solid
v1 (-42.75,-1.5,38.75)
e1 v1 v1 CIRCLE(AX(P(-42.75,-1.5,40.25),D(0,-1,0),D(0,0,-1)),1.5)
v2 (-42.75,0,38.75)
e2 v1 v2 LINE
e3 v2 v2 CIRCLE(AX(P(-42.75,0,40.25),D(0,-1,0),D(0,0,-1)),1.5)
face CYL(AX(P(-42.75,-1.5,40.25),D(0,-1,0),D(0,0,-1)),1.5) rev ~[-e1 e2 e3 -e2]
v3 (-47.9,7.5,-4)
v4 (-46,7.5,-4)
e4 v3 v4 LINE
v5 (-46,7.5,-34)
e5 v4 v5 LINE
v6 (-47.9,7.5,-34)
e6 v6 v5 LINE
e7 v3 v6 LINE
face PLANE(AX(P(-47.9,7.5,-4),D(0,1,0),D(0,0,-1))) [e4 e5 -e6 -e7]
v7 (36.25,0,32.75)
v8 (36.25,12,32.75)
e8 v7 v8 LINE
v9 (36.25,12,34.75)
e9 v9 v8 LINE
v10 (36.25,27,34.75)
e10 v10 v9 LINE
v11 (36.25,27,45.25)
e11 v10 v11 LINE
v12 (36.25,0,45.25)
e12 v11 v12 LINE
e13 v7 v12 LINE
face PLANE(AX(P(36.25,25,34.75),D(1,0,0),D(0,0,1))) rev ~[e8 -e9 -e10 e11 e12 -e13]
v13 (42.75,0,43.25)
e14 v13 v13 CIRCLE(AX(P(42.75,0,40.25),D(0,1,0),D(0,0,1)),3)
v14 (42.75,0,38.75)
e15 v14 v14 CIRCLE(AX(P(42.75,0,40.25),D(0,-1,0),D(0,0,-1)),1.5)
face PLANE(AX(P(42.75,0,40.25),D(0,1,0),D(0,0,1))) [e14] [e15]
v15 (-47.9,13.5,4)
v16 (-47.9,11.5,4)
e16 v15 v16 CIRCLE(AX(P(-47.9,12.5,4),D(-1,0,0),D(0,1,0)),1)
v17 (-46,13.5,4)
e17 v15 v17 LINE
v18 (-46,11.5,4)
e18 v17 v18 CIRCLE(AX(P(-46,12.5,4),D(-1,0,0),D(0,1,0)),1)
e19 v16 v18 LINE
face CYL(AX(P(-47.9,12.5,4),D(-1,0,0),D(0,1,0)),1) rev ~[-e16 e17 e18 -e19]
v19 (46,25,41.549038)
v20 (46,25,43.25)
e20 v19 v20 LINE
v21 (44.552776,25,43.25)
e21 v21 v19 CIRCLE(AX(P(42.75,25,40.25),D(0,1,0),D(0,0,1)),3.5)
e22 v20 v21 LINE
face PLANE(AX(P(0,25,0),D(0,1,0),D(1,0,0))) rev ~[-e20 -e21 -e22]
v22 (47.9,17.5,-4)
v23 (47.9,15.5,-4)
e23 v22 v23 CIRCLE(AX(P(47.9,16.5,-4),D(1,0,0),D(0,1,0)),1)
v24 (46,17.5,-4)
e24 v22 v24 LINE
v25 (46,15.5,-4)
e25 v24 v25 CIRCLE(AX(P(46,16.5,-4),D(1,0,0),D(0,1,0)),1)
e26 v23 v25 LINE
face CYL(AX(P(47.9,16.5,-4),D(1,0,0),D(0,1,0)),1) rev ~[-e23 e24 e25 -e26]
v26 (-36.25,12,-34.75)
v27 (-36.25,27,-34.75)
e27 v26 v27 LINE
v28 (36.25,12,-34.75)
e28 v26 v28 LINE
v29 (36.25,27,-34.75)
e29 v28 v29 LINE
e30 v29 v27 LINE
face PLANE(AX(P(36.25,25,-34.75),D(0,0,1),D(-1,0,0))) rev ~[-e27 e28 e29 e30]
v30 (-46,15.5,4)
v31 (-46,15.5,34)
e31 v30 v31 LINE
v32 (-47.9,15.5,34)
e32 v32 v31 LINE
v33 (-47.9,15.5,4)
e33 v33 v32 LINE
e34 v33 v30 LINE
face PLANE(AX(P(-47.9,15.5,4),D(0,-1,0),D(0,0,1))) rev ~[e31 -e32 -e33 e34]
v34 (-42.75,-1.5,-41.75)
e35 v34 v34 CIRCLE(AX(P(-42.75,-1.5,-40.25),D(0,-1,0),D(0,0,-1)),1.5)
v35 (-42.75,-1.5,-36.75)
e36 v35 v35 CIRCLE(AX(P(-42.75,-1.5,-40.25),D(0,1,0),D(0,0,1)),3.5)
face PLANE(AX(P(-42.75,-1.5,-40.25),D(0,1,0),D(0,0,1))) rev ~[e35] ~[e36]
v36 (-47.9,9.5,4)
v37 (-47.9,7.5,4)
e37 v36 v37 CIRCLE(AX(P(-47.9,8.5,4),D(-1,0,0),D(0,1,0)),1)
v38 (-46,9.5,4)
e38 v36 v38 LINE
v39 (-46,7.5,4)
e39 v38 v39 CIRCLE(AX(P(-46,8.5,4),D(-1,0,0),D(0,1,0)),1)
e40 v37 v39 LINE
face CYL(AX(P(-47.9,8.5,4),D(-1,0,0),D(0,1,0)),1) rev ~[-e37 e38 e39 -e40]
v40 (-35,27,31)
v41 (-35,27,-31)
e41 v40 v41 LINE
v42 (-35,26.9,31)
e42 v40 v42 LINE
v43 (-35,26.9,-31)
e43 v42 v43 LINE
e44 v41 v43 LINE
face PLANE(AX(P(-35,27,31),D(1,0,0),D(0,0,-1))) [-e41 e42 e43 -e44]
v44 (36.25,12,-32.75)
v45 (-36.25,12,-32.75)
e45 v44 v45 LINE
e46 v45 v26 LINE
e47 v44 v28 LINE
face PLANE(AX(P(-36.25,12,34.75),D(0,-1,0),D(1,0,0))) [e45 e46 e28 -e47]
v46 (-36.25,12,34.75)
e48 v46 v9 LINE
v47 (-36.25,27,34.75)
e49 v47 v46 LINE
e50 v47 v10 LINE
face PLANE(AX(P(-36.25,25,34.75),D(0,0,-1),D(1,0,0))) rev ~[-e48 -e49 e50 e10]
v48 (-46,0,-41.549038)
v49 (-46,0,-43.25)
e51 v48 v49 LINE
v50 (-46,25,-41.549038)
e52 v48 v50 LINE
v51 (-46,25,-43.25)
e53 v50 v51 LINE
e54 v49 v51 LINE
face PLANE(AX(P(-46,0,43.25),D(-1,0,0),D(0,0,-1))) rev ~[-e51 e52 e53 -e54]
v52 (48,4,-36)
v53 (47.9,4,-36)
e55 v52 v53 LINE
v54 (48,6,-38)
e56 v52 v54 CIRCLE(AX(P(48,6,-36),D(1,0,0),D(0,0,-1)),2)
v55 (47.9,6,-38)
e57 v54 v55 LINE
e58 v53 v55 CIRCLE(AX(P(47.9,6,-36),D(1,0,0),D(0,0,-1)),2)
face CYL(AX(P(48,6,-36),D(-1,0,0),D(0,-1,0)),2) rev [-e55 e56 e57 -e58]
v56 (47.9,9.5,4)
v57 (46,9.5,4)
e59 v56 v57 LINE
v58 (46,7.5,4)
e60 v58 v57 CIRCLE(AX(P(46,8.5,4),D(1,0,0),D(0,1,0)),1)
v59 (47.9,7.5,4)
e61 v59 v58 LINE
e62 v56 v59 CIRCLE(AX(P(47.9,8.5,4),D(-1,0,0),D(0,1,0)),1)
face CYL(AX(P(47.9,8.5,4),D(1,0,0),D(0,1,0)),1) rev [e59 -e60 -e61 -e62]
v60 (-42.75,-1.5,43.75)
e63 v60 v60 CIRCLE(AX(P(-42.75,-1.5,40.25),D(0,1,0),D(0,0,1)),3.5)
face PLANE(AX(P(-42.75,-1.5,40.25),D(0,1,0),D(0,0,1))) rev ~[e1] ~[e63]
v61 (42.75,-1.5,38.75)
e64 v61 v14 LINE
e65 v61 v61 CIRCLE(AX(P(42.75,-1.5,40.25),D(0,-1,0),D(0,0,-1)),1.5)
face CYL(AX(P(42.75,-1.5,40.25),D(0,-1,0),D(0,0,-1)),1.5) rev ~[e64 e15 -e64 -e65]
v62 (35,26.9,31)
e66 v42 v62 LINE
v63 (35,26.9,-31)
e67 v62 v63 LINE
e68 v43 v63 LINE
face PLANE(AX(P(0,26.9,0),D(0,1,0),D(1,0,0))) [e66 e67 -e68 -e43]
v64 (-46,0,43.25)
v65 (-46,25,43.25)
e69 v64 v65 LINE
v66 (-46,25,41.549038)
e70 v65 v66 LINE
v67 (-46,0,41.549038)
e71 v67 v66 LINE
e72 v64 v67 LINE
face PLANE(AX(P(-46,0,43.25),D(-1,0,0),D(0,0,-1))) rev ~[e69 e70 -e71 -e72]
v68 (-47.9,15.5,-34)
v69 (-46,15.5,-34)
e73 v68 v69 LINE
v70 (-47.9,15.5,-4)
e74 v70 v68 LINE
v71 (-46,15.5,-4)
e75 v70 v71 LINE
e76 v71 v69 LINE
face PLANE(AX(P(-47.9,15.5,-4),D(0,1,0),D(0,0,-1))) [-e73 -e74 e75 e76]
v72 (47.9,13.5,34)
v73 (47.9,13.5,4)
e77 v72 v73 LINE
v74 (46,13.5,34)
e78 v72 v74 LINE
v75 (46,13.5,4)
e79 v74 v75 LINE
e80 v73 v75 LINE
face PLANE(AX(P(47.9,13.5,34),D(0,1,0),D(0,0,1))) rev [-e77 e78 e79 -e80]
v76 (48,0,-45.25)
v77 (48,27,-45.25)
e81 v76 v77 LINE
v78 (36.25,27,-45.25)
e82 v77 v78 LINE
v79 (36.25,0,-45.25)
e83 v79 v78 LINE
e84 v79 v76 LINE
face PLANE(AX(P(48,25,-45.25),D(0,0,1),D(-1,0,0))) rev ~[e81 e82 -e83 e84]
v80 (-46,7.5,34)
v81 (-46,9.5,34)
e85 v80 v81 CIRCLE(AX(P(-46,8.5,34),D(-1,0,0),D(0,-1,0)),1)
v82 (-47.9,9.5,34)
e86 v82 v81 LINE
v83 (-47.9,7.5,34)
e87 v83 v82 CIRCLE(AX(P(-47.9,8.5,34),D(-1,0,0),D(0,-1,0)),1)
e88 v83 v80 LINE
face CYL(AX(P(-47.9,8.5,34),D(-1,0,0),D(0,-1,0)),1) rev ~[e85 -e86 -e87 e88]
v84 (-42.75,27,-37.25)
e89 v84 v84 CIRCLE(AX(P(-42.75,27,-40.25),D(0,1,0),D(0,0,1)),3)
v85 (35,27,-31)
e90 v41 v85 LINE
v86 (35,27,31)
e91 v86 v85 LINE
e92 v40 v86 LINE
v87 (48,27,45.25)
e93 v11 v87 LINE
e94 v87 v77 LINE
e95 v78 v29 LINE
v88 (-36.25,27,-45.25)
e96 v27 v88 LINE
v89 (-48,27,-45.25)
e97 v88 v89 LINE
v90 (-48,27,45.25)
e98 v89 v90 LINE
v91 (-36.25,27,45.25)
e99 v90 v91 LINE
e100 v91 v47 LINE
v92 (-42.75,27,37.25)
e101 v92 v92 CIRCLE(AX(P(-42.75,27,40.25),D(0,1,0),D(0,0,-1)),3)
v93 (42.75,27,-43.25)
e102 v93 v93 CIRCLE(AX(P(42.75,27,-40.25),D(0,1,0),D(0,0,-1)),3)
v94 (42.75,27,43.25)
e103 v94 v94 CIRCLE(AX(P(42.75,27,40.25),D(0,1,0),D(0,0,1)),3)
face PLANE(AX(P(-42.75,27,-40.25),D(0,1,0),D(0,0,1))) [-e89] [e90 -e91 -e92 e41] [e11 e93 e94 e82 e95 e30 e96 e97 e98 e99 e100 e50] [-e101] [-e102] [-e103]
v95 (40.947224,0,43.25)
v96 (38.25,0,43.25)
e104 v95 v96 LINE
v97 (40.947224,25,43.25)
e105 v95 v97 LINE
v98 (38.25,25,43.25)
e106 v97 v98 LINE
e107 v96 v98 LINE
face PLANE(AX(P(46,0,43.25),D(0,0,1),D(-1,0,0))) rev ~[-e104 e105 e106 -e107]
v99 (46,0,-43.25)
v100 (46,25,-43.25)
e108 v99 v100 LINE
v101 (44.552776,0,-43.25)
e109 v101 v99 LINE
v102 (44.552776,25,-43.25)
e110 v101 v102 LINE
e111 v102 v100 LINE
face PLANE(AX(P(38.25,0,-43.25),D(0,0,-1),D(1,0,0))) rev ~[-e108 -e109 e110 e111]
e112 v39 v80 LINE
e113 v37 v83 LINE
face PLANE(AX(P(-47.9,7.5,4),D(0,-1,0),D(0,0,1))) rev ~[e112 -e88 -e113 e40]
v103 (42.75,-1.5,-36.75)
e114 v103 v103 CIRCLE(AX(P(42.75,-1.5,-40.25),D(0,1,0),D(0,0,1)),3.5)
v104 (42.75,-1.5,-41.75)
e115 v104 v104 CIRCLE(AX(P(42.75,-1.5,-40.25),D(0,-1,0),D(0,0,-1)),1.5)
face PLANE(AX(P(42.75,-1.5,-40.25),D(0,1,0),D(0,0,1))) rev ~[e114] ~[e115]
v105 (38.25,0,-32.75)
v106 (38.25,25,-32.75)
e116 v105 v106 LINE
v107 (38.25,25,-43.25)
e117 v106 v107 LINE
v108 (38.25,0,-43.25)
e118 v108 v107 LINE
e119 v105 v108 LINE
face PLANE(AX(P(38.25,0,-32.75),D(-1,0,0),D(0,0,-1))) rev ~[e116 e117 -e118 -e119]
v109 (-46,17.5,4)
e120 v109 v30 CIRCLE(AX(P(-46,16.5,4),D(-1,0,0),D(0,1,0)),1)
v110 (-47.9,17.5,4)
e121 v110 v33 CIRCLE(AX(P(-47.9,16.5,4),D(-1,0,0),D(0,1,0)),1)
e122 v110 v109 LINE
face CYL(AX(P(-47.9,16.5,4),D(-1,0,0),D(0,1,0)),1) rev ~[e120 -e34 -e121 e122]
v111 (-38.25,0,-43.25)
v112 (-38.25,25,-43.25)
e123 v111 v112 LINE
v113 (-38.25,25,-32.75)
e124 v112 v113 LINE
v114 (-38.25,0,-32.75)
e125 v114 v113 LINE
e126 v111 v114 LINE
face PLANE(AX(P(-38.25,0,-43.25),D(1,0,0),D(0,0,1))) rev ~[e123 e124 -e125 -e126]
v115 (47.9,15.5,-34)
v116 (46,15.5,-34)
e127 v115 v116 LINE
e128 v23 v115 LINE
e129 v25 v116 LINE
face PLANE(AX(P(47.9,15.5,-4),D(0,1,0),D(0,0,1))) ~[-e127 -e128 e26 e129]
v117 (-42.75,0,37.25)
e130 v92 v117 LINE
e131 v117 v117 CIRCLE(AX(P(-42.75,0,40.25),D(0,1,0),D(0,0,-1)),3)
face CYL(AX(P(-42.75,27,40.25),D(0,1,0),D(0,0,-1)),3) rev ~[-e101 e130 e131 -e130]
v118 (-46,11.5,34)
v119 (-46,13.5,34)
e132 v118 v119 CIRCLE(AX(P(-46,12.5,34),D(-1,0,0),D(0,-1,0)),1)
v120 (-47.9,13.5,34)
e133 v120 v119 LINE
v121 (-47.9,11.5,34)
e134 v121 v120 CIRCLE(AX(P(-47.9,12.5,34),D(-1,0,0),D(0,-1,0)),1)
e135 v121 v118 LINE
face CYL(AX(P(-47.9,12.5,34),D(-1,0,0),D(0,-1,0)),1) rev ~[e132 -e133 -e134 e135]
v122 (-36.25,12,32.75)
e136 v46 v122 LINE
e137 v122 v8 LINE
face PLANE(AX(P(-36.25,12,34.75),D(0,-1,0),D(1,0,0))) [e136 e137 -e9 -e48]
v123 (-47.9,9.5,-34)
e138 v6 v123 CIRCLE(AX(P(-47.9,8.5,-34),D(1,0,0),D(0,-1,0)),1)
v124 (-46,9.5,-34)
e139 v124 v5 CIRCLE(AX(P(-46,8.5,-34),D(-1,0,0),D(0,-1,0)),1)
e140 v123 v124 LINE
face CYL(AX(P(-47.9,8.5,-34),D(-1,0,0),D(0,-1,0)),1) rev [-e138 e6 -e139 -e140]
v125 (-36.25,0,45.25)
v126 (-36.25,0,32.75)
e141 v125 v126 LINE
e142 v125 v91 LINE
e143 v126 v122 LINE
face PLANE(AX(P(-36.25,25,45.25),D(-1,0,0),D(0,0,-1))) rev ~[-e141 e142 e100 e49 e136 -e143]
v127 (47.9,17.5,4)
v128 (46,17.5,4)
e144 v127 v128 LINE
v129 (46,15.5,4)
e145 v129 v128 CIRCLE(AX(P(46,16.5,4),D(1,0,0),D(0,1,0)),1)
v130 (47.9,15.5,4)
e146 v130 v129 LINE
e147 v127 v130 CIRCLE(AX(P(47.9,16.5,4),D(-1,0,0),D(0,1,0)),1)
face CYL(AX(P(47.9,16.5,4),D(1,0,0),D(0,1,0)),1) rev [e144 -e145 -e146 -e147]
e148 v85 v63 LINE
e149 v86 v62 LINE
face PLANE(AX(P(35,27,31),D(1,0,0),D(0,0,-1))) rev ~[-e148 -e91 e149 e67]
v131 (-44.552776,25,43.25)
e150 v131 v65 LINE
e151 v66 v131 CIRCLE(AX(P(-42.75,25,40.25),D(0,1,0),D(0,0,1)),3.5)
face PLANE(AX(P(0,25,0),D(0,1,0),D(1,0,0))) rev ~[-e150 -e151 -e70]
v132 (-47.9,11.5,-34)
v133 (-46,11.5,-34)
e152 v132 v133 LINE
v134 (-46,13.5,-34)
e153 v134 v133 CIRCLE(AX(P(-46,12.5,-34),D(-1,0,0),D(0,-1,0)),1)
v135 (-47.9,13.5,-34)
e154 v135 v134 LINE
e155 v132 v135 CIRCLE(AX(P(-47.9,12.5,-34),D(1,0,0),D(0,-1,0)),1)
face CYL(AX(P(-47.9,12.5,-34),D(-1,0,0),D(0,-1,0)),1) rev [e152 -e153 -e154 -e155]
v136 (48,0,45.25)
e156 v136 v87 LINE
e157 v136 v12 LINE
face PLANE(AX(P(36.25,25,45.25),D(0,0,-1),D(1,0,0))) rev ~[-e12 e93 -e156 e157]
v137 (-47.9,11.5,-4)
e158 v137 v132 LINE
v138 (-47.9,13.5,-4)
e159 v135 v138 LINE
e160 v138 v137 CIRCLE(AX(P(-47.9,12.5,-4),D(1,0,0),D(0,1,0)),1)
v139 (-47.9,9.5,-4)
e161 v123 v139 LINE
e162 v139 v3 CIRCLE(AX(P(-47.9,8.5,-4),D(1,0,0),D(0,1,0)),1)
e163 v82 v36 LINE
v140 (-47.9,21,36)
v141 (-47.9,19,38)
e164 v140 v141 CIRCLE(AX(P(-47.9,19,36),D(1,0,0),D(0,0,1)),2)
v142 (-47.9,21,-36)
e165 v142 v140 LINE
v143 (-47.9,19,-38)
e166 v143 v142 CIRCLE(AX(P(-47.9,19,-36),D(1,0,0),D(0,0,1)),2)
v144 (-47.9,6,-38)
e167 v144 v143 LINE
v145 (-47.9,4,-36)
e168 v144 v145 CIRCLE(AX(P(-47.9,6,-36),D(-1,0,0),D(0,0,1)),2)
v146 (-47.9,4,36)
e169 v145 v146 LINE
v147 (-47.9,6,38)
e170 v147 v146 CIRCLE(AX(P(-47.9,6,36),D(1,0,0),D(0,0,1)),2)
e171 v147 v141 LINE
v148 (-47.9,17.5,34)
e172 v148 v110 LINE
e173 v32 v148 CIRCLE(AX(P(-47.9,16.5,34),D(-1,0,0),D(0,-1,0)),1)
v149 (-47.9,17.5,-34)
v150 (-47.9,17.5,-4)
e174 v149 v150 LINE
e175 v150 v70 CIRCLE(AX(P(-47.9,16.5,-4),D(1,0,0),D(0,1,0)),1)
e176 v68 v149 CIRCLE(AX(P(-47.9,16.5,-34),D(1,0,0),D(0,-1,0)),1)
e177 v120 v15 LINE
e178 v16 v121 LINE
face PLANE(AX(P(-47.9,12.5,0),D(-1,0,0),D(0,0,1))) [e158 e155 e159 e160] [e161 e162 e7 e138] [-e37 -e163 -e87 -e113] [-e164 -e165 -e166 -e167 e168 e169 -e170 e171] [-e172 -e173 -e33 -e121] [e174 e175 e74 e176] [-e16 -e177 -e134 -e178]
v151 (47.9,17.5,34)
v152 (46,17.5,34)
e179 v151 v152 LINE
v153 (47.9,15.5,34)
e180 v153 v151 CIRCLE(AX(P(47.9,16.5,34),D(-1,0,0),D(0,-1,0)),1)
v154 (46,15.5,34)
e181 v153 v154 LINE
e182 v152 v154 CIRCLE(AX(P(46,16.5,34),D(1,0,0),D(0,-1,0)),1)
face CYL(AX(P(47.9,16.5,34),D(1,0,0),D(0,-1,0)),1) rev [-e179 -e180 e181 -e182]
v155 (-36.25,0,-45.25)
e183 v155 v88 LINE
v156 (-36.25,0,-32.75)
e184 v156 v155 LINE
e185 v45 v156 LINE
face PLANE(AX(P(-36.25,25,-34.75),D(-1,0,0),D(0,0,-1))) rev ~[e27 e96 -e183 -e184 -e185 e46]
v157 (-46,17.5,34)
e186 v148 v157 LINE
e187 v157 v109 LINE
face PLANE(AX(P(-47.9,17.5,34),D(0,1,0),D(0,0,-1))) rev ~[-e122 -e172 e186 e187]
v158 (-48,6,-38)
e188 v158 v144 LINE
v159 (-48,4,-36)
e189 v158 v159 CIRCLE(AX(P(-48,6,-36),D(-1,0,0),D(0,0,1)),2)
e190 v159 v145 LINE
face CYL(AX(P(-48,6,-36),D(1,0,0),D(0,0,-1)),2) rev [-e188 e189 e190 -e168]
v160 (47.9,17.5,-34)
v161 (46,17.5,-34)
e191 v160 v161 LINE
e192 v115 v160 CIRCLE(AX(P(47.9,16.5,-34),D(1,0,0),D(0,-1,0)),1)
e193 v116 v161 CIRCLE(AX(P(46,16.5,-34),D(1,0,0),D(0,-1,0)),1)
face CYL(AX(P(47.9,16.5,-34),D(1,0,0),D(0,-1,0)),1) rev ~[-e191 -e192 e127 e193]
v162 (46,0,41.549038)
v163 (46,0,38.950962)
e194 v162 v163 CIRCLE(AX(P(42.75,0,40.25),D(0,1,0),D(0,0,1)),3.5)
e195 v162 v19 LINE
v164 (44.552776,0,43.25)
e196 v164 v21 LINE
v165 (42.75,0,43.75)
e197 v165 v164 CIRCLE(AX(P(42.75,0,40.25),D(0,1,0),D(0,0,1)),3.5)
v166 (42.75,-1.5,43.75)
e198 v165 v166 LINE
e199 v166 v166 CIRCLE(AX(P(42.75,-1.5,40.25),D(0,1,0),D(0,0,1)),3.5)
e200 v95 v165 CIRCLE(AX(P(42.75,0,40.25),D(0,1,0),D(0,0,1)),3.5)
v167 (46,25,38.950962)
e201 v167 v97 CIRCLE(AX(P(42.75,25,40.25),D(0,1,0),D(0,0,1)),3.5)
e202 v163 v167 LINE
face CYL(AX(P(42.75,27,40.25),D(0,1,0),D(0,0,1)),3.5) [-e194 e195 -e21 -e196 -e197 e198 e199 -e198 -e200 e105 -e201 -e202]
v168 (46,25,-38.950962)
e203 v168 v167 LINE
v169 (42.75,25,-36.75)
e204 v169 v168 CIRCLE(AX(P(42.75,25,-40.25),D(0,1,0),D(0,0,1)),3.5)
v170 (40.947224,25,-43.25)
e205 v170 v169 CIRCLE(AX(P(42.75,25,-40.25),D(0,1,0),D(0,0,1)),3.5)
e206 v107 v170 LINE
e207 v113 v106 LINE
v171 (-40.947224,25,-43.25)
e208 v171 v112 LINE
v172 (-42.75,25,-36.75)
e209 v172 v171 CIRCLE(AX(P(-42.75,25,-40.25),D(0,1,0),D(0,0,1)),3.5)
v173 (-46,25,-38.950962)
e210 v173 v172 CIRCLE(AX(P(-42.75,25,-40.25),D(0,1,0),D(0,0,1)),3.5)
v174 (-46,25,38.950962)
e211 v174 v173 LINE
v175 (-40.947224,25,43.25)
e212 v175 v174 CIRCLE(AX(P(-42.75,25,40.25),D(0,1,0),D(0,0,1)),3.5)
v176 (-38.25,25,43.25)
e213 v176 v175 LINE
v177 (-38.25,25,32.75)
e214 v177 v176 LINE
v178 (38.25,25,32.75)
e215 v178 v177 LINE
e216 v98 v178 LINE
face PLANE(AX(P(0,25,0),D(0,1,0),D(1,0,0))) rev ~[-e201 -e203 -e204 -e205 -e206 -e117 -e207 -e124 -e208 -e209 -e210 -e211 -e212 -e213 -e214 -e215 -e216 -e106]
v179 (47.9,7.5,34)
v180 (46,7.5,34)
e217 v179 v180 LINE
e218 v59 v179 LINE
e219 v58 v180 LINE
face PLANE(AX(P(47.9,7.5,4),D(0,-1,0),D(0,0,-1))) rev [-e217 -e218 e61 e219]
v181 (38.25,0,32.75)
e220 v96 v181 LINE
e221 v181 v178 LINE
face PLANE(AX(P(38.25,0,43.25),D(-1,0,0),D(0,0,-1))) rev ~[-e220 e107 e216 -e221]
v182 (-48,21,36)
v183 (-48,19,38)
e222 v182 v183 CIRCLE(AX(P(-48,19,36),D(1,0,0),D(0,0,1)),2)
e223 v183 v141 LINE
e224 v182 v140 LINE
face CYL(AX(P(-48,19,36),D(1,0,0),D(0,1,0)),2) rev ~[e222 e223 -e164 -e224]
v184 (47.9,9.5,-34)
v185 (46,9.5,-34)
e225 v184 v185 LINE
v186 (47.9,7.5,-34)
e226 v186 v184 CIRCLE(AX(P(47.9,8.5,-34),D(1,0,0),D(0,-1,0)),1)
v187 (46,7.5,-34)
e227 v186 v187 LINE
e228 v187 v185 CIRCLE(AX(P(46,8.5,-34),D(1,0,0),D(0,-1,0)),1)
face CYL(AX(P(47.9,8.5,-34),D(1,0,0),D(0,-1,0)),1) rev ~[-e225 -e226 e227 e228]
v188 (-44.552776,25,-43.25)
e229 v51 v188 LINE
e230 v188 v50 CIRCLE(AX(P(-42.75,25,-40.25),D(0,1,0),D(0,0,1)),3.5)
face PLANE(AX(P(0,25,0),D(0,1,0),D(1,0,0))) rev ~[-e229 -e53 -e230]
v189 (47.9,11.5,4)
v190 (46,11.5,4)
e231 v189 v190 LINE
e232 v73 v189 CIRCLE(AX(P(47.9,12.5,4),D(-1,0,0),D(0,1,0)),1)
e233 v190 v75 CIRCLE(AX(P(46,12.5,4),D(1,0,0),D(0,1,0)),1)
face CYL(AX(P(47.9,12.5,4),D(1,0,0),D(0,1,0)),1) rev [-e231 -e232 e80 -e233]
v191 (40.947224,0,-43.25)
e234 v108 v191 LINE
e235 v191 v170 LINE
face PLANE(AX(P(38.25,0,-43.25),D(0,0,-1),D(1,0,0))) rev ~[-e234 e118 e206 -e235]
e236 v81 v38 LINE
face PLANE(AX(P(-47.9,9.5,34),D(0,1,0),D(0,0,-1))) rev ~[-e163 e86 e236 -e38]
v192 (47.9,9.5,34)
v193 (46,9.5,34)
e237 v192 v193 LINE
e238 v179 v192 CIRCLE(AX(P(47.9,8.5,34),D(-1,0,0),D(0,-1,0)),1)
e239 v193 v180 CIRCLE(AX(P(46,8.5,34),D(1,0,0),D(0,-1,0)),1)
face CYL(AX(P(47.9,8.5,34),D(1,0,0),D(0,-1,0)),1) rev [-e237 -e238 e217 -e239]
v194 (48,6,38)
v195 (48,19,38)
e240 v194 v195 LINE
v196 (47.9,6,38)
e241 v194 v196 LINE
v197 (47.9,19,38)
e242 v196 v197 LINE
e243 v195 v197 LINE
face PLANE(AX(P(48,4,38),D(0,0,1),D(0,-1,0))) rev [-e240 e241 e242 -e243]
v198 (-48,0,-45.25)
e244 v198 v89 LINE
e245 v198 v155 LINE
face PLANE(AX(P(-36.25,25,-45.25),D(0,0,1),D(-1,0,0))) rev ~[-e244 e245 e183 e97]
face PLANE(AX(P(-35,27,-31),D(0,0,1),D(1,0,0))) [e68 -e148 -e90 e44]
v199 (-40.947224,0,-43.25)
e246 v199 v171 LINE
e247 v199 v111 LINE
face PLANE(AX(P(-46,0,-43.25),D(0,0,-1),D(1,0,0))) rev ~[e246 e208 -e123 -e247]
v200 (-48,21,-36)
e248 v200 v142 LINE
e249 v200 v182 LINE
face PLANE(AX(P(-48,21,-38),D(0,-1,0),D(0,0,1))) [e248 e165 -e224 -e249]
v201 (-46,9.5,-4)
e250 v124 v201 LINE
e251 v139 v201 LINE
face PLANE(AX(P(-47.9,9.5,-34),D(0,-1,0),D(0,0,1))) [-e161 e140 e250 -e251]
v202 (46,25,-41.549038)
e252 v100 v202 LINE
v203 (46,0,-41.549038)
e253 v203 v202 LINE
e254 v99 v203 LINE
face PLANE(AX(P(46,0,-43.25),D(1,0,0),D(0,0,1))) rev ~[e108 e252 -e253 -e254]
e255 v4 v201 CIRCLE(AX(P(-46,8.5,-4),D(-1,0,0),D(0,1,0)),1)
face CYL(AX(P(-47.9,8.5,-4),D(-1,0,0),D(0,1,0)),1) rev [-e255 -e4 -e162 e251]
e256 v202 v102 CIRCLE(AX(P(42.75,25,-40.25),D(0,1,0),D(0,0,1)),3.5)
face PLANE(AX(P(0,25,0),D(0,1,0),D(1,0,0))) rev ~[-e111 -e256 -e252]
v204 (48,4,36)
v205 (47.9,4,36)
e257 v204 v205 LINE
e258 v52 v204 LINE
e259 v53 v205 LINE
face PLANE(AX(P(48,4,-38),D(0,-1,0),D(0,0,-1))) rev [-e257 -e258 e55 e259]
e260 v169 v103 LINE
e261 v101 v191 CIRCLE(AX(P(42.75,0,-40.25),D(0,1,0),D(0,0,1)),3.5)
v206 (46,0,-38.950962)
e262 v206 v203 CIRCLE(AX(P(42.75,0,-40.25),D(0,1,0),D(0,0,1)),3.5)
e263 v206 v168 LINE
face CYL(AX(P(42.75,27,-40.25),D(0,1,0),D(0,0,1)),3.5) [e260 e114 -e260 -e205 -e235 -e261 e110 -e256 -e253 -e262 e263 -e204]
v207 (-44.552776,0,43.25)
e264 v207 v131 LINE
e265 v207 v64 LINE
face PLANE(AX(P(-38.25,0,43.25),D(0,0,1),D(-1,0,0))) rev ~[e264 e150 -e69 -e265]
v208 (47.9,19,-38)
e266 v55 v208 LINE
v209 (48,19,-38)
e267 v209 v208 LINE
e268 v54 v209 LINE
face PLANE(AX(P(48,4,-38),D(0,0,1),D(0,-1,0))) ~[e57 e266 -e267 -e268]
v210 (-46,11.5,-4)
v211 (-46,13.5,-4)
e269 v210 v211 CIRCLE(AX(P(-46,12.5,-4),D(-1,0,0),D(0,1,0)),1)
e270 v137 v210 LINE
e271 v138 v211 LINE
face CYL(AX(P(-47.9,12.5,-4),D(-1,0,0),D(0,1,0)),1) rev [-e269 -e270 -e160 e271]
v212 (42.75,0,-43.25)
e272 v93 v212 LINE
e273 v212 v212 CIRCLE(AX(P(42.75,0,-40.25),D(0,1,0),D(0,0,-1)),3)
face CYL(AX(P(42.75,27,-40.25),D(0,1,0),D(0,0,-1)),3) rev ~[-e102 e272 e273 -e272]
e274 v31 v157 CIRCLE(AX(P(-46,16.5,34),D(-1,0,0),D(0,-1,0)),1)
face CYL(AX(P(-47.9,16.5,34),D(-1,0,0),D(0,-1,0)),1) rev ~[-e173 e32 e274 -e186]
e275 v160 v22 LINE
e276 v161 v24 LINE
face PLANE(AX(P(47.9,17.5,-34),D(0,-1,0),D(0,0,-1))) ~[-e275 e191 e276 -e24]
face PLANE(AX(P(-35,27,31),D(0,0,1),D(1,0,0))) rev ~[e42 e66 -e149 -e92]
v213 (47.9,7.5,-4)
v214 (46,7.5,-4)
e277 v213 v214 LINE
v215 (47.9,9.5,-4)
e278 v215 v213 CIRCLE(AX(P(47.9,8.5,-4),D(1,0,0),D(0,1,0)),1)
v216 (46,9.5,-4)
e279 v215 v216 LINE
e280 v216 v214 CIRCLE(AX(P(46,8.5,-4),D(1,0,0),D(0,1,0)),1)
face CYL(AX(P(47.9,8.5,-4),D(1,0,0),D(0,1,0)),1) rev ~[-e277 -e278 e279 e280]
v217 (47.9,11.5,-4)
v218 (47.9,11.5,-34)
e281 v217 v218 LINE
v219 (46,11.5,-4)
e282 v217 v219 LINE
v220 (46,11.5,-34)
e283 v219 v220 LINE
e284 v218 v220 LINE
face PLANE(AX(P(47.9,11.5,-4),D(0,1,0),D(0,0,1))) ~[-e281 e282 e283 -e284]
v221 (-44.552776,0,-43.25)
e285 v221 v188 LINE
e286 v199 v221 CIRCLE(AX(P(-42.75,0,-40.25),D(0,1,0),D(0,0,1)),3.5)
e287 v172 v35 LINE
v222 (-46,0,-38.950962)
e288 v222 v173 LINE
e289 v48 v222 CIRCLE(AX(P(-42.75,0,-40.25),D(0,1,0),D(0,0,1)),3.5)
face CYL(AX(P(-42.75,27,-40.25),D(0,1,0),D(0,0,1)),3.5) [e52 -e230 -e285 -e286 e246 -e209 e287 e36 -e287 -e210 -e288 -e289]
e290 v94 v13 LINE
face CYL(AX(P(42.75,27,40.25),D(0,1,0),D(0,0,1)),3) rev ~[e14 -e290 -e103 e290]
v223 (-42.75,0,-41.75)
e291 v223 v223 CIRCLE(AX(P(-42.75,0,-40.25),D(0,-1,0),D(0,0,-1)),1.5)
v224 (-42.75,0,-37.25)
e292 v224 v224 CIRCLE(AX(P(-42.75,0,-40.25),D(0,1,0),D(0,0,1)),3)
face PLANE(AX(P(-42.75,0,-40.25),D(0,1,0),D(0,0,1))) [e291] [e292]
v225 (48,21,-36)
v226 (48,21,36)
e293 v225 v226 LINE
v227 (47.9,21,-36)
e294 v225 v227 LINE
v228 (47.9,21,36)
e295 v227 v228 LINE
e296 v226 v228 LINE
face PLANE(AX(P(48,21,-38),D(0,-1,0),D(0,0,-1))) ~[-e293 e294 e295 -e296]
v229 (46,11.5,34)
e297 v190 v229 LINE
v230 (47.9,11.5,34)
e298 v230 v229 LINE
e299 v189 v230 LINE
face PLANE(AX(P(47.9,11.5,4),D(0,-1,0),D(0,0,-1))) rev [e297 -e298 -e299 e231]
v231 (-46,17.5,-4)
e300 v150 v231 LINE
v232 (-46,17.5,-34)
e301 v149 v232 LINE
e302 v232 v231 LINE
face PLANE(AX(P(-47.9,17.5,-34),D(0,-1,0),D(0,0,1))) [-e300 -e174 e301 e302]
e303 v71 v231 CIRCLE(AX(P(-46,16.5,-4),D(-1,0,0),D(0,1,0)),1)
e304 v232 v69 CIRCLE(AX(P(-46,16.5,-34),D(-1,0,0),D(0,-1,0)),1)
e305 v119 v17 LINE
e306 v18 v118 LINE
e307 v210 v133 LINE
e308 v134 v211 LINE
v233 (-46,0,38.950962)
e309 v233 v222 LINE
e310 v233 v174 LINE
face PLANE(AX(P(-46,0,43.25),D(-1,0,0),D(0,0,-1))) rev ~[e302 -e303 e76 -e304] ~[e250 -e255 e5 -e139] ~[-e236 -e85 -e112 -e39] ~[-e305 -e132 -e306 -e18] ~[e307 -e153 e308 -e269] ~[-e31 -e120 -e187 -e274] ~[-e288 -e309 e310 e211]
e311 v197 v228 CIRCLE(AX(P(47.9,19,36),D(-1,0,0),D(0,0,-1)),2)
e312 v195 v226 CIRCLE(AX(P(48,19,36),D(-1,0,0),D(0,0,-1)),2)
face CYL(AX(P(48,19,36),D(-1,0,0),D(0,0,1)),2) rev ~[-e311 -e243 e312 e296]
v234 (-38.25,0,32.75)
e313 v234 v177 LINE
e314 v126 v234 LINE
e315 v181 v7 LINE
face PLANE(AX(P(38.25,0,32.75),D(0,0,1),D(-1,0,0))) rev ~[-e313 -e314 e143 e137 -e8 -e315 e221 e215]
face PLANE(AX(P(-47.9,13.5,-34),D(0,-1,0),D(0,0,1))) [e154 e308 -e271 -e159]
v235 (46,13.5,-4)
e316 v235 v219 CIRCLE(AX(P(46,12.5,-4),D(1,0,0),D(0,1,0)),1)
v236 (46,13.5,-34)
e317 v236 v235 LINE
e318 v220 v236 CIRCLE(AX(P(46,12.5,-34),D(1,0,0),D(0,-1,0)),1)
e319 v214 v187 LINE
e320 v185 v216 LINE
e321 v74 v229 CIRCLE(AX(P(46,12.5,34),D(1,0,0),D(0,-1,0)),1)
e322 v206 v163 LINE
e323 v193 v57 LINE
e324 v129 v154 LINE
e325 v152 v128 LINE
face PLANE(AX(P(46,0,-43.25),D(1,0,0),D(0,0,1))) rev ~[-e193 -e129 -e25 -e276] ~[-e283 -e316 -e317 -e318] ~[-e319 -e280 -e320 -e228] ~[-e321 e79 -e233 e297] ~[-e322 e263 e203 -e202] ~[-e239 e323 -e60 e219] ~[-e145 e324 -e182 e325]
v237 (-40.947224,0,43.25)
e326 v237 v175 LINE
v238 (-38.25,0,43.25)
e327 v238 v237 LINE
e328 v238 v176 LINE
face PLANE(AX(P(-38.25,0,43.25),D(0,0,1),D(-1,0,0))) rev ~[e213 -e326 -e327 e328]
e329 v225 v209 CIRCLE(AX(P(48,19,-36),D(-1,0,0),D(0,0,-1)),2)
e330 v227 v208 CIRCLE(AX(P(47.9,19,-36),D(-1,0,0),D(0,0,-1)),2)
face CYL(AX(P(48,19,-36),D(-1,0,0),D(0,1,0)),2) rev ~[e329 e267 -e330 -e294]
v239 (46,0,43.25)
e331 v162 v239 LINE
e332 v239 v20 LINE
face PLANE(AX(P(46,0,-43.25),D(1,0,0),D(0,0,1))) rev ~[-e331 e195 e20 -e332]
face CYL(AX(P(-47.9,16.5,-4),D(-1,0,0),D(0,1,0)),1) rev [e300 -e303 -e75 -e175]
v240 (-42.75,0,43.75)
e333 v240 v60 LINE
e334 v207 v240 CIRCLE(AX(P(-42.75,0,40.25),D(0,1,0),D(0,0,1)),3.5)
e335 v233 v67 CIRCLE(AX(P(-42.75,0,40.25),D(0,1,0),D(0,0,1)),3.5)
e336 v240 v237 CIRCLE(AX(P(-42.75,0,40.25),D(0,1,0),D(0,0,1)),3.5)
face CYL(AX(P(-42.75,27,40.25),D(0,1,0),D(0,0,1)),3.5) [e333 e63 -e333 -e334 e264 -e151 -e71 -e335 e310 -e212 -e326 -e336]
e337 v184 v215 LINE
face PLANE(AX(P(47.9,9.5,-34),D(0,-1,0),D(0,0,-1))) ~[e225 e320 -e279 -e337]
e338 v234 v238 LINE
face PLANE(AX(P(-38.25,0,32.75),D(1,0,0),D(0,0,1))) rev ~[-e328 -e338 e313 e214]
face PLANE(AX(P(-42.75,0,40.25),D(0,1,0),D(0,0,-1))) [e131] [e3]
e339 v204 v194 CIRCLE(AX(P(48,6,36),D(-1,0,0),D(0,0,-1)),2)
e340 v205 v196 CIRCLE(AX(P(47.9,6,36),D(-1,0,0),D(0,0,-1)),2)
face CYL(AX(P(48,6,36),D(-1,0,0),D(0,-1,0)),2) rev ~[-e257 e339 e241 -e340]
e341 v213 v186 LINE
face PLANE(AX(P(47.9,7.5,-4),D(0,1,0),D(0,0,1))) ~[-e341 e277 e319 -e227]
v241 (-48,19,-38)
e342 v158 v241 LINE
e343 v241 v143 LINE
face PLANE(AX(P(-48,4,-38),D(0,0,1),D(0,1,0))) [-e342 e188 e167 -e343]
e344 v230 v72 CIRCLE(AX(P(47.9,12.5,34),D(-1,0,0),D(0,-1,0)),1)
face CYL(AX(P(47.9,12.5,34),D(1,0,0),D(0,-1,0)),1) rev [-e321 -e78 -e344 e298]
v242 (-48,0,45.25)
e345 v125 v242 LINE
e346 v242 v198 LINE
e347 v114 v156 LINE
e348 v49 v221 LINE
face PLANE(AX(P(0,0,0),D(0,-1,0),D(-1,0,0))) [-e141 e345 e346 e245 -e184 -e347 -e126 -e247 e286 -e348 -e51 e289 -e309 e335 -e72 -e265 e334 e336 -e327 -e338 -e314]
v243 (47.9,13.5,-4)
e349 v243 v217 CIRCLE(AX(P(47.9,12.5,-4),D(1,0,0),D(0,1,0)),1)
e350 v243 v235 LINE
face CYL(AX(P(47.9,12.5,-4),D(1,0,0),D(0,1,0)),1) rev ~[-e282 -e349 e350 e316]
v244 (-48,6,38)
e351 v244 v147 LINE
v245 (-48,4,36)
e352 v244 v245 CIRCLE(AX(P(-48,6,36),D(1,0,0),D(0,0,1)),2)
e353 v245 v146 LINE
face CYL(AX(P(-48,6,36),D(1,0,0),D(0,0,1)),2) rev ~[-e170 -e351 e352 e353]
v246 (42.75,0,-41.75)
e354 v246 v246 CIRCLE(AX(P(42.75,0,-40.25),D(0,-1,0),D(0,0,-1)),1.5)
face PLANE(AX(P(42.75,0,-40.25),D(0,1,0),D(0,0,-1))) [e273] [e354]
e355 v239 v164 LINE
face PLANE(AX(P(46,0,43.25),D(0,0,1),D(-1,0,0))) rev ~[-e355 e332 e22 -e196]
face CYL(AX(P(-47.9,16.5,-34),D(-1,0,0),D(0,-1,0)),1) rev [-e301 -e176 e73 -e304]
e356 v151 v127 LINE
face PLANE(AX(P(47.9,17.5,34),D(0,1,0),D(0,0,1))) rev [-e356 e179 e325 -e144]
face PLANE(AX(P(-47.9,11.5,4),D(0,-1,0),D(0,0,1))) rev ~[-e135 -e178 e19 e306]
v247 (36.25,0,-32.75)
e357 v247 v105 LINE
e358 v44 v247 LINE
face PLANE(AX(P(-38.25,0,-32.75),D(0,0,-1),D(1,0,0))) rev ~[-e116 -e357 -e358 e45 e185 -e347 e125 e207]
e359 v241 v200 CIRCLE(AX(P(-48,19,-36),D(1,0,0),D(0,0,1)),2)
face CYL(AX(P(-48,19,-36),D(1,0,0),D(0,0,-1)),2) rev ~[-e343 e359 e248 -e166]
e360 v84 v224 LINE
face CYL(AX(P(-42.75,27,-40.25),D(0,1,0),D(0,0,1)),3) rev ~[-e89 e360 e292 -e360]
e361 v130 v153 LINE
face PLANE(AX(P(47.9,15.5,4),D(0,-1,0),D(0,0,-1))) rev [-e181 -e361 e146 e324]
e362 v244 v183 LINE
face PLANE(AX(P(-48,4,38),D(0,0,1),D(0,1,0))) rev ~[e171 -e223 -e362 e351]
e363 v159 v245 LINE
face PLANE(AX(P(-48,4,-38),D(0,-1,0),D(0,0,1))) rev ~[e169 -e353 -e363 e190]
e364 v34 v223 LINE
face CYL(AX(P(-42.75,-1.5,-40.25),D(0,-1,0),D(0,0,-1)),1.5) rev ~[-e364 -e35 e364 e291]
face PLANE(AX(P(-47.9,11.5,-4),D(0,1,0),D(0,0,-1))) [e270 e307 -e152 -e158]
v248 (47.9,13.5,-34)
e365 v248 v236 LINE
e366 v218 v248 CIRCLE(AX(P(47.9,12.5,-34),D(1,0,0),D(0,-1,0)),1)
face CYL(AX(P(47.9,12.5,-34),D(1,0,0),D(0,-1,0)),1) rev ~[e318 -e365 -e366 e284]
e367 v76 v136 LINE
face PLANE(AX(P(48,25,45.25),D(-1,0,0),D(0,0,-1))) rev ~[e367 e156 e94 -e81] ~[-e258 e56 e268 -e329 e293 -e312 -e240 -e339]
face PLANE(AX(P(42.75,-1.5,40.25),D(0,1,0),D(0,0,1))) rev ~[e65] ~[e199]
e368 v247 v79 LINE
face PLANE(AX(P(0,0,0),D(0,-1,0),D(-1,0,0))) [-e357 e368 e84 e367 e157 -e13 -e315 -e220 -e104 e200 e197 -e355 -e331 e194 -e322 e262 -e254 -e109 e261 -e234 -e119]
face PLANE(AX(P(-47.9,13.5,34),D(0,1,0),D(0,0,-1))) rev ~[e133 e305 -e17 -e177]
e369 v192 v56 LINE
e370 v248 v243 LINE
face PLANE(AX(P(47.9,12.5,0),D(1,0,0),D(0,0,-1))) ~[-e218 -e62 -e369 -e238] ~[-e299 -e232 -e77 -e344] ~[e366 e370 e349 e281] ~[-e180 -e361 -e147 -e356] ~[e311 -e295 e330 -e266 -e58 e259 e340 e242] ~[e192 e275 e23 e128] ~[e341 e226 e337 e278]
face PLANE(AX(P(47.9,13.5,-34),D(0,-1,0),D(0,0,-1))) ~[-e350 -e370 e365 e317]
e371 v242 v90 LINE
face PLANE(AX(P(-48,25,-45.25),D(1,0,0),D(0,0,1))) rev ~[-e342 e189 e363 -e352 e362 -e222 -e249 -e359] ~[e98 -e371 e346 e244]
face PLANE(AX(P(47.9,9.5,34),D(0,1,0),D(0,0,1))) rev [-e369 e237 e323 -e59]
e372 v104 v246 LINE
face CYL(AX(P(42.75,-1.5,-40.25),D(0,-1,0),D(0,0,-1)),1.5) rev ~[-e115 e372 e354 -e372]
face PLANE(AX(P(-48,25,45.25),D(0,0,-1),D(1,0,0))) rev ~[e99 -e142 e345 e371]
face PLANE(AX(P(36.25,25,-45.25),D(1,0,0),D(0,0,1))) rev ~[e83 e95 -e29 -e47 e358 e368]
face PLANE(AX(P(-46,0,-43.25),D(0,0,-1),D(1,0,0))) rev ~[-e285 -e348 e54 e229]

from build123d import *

# Parameters (mm, degrees)
BOSS_EXTRUDE1_DEPTH  = 25
BOSS_EXTRUDE2_DEPTH  = 2
SKETCH3_W            = 72.5
SKETCH3_H            = 18.058244084
CUT_EXTRUDE1_DEPTH   = 90
SKETCH4_R            = 3.5
BOSS_EXTRUDE9_DEPTH  = 28.5
SKETCH5_R            = 1.5
CUT_EXTRUDE2_DEPTH   = 28.5
SKETCH6_R            = 3
CUT_EXTRUDE3_DEPTH   = 27
SKETCH7_W            = 70
SKETCH7_H            = 62
CUT_EXTRUDE4_DEPTH   = 0.1
SKETCH8_W            = 76
SKETCH8_H            = 17
CUT_EXTRUDE5_DEPTH   = 0.1
FILLET1_R            = 2
CUT_EXTRUDE6_DEPTH   = 5
FILLET1_OF_MIRROR1_R = 2


with BuildPart() as part:
    # Sketch1 → Boss-Extrude1 (new body)
    with BuildSketch(Plane(origin=(0, 0, 0), x_dir=(1, 0, 0), z_dir=(0, 1, 0))):
        Polygon((-48, 45.25), (-36.25, 45.25), (-36.25, 34.75), (36.25, 34.75), (36.25, 45.25), (48, 45.25), (48, -45.25), (36.25, -45.25), (36.25, -34.75), (-36.25, -34.75), (-36.25, -45.25), (-48, -45.25), align=None)
        Polygon((-46, 43.25), (-38.25, 43.25), (-38.25, 32.75), (38.25, 32.75), (38.25, 43.25), (46, 43.25), (46, -43.25), (38.25, -43.25), (38.25, -32.75), (-38.25, -32.75), (-38.25, -43.25), (-46, -43.25), align=None, mode=Mode.SUBTRACT)
    extrude(amount=BOSS_EXTRUDE1_DEPTH)

    # Sketch2 → Boss-Extrude2 (add)
    with BuildSketch(Plane(origin=(0, 25, 0), x_dir=(1, 0, 0), z_dir=(0, 1, 0))):
        Polygon((36.25, -45.25), (48, -45.25), (48, 45.25), (36.25, 45.25), (36.25, 34.75), (-36.25, 34.75), (-36.25, 45.25), (-48, 45.25), (-48, -45.25), (-36.25, -45.25), (-36.25, -34.75), (36.25, -34.75), align=None)
    extrude(amount=BOSS_EXTRUDE2_DEPTH)

    # Sketch3 → Cut-Extrude1 (cut)
    with BuildSketch(Plane.XY.offset(34.75)):
        with Locations((0, 2.970877958)):
            Rectangle(SKETCH3_W, SKETCH3_H)
    extrude(amount=-CUT_EXTRUDE1_DEPTH, mode=Mode.SUBTRACT)

    # Sketch4 → Boss-Extrude9 (add)
    with BuildSketch(Plane(origin=(0, 27, 0), x_dir=(1, 0, 0), z_dir=(0, 1, 0))):
        with Locations(Location((-42.75, 40.25, 0), (0, 0, 270))):
            Circle(SKETCH4_R)
        with Locations(Location((42.75, 40.25, 0), (0, 0, 270))):
            Circle(SKETCH4_R)
        with Locations(Location((42.75, -40.25, 0), (0, 0, 270))):
            Circle(SKETCH4_R)
        with Locations(Location((-42.75, -40.25, 0), (0, 0, 270))):
            Circle(SKETCH4_R)
    extrude(amount=-BOSS_EXTRUDE9_DEPTH)

    # Sketch5 → Cut-Extrude2 (cut)
    with BuildSketch(Plane.XZ.offset(1.5)):
        with Locations(Location((-42.75, 40.25, 0), (0, 0, 270))):
            Circle(SKETCH5_R)
        with Locations(Location((42.75, 40.25, 0), (0, 0, 270))):
            Circle(SKETCH5_R)
        with Locations(Location((42.75, -40.25, 0), (0, 0, 270))):
            Circle(SKETCH5_R)
        with Locations(Location((-42.75, -40.25, 0), (0, 0, 270))):
            Circle(SKETCH5_R)
    extrude(amount=-CUT_EXTRUDE2_DEPTH, mode=Mode.SUBTRACT)

    # Sketch6 → Cut-Extrude3 (cut)
    with BuildSketch(Plane(origin=(0, 27, 0), x_dir=(1, 0, 0), z_dir=(0, 1, 0))):
        with Locations(Location((-42.75, 40.25, 0), (0, 0, 270))):
            Circle(SKETCH6_R)
        with Locations(Location((42.75, 40.25, 0), (0, 0, 90))):
            Circle(SKETCH6_R)
        with Locations(Location((42.75, -40.25, 0), (0, 0, 270))):
            Circle(SKETCH6_R)
        with Locations(Location((-42.75, -40.25, 0), (0, 0, 90))):
            Circle(SKETCH6_R)
    extrude(amount=-CUT_EXTRUDE3_DEPTH, mode=Mode.SUBTRACT)

    # Sketch7 → Cut-Extrude4 (cut)
    with BuildSketch(Plane(origin=(0, 27, 0), x_dir=(1, 0, 0), z_dir=(0, 1, 0))):
        Rectangle(SKETCH7_W, SKETCH7_H)
    extrude(amount=-CUT_EXTRUDE4_DEPTH, mode=Mode.SUBTRACT)

    # Sketch8 → Cut-Extrude5 (cut)
    with BuildSketch(Plane.ZY.offset(48)):
        with Locations((0, 12.5)):
            Rectangle(SKETCH8_W, SKETCH8_H)
    cut_extrude5 = extrude(amount=-CUT_EXTRUDE5_DEPTH, mode=Mode.SUBTRACT)

    # Fillet1
    fillet1_edges = [part.edges().sort_by_distance(p)[0] for p in [
        (-47.95, 21, 38),
        (-47.95, 4, 38),
        (-47.95, 4, -38),
        (-47.95, 21, -38),
    ]]
    fillet(fillet1_edges, radius=FILLET1_R)

    # Sketch9 → Cut-Extrude6 (cut)
    with BuildSketch(Plane.ZY.offset(47.9)):
        with BuildLine():
            Line((-34, 13.5), (-4, 13.5))
            ThreePointArc((-4, 13.5), (-3, 12.5), (-4, 11.5))
            Line((-4, 11.5), (-34, 11.5))
            ThreePointArc((-34, 11.5), (-35, 12.5), (-34, 13.5))
        make_face()
        with BuildLine():
            Line((-34, 17.5), (-4, 17.5))
            ThreePointArc((-4, 17.5), (-3, 16.5), (-4, 15.5))
            Line((-4, 15.5), (-34, 15.5))
            ThreePointArc((-34, 15.5), (-35, 16.5), (-34, 17.5))
        make_face()
        with BuildLine():
            Line((-34, 9.5), (-4, 9.5))
            ThreePointArc((-4, 9.5), (-3, 8.5), (-4, 7.5))
            Line((-4, 7.5), (-34, 7.5))
            ThreePointArc((-34, 7.5), (-35, 8.5), (-34, 9.5))
        make_face()
        with BuildLine():
            Line((34, 9.5), (4, 9.5))
            ThreePointArc((4, 9.5), (3, 8.5), (4, 7.5))
            Line((4, 7.5), (34, 7.5))
            ThreePointArc((34, 7.5), (35, 8.5), (34, 9.5))
        make_face()
        with BuildLine():
            Line((34, 13.5), (4, 13.5))
            ThreePointArc((4, 13.5), (3, 12.5), (4, 11.5))
            Line((4, 11.5), (34, 11.5))
            ThreePointArc((34, 11.5), (35, 12.5), (34, 13.5))
        make_face()
        with BuildLine():
            Line((34, 17.5), (4, 17.5))
            ThreePointArc((4, 17.5), (3, 16.5), (4, 15.5))
            Line((4, 15.5), (34, 15.5))
            ThreePointArc((34, 15.5), (35, 16.5), (34, 17.5))
        make_face()
    cut_extrude6 = extrude(amount=-CUT_EXTRUDE6_DEPTH, mode=Mode.SUBTRACT)

    # Mirror1: Cut-Extrude5, Cut-Extrude6 across plane
    add(cut_extrude5.mirror(Plane(origin=(0, 0, 0), x_dir=(0, 0, 1), z_dir=(1, 0, 0))), mode=Mode.SUBTRACT)
    add(cut_extrude6.mirror(Plane(origin=(0, 0, 0), x_dir=(0, 0, 1), z_dir=(1, 0, 0))), mode=Mode.SUBTRACT)

    # Fillet1 of Mirror1
    fillet1_of_mirror1_edges = [part.edges().sort_by_distance(p)[0] for p in [
        (47.95, 21, 38),
        (47.95, 4, 38),
        (47.95, 4, -38),
        (47.95, 21, -38),
    ]]
    fillet(fillet1_of_mirror1_edges, radius=FILLET1_OF_MIRROR1_R)


solid = part.part
